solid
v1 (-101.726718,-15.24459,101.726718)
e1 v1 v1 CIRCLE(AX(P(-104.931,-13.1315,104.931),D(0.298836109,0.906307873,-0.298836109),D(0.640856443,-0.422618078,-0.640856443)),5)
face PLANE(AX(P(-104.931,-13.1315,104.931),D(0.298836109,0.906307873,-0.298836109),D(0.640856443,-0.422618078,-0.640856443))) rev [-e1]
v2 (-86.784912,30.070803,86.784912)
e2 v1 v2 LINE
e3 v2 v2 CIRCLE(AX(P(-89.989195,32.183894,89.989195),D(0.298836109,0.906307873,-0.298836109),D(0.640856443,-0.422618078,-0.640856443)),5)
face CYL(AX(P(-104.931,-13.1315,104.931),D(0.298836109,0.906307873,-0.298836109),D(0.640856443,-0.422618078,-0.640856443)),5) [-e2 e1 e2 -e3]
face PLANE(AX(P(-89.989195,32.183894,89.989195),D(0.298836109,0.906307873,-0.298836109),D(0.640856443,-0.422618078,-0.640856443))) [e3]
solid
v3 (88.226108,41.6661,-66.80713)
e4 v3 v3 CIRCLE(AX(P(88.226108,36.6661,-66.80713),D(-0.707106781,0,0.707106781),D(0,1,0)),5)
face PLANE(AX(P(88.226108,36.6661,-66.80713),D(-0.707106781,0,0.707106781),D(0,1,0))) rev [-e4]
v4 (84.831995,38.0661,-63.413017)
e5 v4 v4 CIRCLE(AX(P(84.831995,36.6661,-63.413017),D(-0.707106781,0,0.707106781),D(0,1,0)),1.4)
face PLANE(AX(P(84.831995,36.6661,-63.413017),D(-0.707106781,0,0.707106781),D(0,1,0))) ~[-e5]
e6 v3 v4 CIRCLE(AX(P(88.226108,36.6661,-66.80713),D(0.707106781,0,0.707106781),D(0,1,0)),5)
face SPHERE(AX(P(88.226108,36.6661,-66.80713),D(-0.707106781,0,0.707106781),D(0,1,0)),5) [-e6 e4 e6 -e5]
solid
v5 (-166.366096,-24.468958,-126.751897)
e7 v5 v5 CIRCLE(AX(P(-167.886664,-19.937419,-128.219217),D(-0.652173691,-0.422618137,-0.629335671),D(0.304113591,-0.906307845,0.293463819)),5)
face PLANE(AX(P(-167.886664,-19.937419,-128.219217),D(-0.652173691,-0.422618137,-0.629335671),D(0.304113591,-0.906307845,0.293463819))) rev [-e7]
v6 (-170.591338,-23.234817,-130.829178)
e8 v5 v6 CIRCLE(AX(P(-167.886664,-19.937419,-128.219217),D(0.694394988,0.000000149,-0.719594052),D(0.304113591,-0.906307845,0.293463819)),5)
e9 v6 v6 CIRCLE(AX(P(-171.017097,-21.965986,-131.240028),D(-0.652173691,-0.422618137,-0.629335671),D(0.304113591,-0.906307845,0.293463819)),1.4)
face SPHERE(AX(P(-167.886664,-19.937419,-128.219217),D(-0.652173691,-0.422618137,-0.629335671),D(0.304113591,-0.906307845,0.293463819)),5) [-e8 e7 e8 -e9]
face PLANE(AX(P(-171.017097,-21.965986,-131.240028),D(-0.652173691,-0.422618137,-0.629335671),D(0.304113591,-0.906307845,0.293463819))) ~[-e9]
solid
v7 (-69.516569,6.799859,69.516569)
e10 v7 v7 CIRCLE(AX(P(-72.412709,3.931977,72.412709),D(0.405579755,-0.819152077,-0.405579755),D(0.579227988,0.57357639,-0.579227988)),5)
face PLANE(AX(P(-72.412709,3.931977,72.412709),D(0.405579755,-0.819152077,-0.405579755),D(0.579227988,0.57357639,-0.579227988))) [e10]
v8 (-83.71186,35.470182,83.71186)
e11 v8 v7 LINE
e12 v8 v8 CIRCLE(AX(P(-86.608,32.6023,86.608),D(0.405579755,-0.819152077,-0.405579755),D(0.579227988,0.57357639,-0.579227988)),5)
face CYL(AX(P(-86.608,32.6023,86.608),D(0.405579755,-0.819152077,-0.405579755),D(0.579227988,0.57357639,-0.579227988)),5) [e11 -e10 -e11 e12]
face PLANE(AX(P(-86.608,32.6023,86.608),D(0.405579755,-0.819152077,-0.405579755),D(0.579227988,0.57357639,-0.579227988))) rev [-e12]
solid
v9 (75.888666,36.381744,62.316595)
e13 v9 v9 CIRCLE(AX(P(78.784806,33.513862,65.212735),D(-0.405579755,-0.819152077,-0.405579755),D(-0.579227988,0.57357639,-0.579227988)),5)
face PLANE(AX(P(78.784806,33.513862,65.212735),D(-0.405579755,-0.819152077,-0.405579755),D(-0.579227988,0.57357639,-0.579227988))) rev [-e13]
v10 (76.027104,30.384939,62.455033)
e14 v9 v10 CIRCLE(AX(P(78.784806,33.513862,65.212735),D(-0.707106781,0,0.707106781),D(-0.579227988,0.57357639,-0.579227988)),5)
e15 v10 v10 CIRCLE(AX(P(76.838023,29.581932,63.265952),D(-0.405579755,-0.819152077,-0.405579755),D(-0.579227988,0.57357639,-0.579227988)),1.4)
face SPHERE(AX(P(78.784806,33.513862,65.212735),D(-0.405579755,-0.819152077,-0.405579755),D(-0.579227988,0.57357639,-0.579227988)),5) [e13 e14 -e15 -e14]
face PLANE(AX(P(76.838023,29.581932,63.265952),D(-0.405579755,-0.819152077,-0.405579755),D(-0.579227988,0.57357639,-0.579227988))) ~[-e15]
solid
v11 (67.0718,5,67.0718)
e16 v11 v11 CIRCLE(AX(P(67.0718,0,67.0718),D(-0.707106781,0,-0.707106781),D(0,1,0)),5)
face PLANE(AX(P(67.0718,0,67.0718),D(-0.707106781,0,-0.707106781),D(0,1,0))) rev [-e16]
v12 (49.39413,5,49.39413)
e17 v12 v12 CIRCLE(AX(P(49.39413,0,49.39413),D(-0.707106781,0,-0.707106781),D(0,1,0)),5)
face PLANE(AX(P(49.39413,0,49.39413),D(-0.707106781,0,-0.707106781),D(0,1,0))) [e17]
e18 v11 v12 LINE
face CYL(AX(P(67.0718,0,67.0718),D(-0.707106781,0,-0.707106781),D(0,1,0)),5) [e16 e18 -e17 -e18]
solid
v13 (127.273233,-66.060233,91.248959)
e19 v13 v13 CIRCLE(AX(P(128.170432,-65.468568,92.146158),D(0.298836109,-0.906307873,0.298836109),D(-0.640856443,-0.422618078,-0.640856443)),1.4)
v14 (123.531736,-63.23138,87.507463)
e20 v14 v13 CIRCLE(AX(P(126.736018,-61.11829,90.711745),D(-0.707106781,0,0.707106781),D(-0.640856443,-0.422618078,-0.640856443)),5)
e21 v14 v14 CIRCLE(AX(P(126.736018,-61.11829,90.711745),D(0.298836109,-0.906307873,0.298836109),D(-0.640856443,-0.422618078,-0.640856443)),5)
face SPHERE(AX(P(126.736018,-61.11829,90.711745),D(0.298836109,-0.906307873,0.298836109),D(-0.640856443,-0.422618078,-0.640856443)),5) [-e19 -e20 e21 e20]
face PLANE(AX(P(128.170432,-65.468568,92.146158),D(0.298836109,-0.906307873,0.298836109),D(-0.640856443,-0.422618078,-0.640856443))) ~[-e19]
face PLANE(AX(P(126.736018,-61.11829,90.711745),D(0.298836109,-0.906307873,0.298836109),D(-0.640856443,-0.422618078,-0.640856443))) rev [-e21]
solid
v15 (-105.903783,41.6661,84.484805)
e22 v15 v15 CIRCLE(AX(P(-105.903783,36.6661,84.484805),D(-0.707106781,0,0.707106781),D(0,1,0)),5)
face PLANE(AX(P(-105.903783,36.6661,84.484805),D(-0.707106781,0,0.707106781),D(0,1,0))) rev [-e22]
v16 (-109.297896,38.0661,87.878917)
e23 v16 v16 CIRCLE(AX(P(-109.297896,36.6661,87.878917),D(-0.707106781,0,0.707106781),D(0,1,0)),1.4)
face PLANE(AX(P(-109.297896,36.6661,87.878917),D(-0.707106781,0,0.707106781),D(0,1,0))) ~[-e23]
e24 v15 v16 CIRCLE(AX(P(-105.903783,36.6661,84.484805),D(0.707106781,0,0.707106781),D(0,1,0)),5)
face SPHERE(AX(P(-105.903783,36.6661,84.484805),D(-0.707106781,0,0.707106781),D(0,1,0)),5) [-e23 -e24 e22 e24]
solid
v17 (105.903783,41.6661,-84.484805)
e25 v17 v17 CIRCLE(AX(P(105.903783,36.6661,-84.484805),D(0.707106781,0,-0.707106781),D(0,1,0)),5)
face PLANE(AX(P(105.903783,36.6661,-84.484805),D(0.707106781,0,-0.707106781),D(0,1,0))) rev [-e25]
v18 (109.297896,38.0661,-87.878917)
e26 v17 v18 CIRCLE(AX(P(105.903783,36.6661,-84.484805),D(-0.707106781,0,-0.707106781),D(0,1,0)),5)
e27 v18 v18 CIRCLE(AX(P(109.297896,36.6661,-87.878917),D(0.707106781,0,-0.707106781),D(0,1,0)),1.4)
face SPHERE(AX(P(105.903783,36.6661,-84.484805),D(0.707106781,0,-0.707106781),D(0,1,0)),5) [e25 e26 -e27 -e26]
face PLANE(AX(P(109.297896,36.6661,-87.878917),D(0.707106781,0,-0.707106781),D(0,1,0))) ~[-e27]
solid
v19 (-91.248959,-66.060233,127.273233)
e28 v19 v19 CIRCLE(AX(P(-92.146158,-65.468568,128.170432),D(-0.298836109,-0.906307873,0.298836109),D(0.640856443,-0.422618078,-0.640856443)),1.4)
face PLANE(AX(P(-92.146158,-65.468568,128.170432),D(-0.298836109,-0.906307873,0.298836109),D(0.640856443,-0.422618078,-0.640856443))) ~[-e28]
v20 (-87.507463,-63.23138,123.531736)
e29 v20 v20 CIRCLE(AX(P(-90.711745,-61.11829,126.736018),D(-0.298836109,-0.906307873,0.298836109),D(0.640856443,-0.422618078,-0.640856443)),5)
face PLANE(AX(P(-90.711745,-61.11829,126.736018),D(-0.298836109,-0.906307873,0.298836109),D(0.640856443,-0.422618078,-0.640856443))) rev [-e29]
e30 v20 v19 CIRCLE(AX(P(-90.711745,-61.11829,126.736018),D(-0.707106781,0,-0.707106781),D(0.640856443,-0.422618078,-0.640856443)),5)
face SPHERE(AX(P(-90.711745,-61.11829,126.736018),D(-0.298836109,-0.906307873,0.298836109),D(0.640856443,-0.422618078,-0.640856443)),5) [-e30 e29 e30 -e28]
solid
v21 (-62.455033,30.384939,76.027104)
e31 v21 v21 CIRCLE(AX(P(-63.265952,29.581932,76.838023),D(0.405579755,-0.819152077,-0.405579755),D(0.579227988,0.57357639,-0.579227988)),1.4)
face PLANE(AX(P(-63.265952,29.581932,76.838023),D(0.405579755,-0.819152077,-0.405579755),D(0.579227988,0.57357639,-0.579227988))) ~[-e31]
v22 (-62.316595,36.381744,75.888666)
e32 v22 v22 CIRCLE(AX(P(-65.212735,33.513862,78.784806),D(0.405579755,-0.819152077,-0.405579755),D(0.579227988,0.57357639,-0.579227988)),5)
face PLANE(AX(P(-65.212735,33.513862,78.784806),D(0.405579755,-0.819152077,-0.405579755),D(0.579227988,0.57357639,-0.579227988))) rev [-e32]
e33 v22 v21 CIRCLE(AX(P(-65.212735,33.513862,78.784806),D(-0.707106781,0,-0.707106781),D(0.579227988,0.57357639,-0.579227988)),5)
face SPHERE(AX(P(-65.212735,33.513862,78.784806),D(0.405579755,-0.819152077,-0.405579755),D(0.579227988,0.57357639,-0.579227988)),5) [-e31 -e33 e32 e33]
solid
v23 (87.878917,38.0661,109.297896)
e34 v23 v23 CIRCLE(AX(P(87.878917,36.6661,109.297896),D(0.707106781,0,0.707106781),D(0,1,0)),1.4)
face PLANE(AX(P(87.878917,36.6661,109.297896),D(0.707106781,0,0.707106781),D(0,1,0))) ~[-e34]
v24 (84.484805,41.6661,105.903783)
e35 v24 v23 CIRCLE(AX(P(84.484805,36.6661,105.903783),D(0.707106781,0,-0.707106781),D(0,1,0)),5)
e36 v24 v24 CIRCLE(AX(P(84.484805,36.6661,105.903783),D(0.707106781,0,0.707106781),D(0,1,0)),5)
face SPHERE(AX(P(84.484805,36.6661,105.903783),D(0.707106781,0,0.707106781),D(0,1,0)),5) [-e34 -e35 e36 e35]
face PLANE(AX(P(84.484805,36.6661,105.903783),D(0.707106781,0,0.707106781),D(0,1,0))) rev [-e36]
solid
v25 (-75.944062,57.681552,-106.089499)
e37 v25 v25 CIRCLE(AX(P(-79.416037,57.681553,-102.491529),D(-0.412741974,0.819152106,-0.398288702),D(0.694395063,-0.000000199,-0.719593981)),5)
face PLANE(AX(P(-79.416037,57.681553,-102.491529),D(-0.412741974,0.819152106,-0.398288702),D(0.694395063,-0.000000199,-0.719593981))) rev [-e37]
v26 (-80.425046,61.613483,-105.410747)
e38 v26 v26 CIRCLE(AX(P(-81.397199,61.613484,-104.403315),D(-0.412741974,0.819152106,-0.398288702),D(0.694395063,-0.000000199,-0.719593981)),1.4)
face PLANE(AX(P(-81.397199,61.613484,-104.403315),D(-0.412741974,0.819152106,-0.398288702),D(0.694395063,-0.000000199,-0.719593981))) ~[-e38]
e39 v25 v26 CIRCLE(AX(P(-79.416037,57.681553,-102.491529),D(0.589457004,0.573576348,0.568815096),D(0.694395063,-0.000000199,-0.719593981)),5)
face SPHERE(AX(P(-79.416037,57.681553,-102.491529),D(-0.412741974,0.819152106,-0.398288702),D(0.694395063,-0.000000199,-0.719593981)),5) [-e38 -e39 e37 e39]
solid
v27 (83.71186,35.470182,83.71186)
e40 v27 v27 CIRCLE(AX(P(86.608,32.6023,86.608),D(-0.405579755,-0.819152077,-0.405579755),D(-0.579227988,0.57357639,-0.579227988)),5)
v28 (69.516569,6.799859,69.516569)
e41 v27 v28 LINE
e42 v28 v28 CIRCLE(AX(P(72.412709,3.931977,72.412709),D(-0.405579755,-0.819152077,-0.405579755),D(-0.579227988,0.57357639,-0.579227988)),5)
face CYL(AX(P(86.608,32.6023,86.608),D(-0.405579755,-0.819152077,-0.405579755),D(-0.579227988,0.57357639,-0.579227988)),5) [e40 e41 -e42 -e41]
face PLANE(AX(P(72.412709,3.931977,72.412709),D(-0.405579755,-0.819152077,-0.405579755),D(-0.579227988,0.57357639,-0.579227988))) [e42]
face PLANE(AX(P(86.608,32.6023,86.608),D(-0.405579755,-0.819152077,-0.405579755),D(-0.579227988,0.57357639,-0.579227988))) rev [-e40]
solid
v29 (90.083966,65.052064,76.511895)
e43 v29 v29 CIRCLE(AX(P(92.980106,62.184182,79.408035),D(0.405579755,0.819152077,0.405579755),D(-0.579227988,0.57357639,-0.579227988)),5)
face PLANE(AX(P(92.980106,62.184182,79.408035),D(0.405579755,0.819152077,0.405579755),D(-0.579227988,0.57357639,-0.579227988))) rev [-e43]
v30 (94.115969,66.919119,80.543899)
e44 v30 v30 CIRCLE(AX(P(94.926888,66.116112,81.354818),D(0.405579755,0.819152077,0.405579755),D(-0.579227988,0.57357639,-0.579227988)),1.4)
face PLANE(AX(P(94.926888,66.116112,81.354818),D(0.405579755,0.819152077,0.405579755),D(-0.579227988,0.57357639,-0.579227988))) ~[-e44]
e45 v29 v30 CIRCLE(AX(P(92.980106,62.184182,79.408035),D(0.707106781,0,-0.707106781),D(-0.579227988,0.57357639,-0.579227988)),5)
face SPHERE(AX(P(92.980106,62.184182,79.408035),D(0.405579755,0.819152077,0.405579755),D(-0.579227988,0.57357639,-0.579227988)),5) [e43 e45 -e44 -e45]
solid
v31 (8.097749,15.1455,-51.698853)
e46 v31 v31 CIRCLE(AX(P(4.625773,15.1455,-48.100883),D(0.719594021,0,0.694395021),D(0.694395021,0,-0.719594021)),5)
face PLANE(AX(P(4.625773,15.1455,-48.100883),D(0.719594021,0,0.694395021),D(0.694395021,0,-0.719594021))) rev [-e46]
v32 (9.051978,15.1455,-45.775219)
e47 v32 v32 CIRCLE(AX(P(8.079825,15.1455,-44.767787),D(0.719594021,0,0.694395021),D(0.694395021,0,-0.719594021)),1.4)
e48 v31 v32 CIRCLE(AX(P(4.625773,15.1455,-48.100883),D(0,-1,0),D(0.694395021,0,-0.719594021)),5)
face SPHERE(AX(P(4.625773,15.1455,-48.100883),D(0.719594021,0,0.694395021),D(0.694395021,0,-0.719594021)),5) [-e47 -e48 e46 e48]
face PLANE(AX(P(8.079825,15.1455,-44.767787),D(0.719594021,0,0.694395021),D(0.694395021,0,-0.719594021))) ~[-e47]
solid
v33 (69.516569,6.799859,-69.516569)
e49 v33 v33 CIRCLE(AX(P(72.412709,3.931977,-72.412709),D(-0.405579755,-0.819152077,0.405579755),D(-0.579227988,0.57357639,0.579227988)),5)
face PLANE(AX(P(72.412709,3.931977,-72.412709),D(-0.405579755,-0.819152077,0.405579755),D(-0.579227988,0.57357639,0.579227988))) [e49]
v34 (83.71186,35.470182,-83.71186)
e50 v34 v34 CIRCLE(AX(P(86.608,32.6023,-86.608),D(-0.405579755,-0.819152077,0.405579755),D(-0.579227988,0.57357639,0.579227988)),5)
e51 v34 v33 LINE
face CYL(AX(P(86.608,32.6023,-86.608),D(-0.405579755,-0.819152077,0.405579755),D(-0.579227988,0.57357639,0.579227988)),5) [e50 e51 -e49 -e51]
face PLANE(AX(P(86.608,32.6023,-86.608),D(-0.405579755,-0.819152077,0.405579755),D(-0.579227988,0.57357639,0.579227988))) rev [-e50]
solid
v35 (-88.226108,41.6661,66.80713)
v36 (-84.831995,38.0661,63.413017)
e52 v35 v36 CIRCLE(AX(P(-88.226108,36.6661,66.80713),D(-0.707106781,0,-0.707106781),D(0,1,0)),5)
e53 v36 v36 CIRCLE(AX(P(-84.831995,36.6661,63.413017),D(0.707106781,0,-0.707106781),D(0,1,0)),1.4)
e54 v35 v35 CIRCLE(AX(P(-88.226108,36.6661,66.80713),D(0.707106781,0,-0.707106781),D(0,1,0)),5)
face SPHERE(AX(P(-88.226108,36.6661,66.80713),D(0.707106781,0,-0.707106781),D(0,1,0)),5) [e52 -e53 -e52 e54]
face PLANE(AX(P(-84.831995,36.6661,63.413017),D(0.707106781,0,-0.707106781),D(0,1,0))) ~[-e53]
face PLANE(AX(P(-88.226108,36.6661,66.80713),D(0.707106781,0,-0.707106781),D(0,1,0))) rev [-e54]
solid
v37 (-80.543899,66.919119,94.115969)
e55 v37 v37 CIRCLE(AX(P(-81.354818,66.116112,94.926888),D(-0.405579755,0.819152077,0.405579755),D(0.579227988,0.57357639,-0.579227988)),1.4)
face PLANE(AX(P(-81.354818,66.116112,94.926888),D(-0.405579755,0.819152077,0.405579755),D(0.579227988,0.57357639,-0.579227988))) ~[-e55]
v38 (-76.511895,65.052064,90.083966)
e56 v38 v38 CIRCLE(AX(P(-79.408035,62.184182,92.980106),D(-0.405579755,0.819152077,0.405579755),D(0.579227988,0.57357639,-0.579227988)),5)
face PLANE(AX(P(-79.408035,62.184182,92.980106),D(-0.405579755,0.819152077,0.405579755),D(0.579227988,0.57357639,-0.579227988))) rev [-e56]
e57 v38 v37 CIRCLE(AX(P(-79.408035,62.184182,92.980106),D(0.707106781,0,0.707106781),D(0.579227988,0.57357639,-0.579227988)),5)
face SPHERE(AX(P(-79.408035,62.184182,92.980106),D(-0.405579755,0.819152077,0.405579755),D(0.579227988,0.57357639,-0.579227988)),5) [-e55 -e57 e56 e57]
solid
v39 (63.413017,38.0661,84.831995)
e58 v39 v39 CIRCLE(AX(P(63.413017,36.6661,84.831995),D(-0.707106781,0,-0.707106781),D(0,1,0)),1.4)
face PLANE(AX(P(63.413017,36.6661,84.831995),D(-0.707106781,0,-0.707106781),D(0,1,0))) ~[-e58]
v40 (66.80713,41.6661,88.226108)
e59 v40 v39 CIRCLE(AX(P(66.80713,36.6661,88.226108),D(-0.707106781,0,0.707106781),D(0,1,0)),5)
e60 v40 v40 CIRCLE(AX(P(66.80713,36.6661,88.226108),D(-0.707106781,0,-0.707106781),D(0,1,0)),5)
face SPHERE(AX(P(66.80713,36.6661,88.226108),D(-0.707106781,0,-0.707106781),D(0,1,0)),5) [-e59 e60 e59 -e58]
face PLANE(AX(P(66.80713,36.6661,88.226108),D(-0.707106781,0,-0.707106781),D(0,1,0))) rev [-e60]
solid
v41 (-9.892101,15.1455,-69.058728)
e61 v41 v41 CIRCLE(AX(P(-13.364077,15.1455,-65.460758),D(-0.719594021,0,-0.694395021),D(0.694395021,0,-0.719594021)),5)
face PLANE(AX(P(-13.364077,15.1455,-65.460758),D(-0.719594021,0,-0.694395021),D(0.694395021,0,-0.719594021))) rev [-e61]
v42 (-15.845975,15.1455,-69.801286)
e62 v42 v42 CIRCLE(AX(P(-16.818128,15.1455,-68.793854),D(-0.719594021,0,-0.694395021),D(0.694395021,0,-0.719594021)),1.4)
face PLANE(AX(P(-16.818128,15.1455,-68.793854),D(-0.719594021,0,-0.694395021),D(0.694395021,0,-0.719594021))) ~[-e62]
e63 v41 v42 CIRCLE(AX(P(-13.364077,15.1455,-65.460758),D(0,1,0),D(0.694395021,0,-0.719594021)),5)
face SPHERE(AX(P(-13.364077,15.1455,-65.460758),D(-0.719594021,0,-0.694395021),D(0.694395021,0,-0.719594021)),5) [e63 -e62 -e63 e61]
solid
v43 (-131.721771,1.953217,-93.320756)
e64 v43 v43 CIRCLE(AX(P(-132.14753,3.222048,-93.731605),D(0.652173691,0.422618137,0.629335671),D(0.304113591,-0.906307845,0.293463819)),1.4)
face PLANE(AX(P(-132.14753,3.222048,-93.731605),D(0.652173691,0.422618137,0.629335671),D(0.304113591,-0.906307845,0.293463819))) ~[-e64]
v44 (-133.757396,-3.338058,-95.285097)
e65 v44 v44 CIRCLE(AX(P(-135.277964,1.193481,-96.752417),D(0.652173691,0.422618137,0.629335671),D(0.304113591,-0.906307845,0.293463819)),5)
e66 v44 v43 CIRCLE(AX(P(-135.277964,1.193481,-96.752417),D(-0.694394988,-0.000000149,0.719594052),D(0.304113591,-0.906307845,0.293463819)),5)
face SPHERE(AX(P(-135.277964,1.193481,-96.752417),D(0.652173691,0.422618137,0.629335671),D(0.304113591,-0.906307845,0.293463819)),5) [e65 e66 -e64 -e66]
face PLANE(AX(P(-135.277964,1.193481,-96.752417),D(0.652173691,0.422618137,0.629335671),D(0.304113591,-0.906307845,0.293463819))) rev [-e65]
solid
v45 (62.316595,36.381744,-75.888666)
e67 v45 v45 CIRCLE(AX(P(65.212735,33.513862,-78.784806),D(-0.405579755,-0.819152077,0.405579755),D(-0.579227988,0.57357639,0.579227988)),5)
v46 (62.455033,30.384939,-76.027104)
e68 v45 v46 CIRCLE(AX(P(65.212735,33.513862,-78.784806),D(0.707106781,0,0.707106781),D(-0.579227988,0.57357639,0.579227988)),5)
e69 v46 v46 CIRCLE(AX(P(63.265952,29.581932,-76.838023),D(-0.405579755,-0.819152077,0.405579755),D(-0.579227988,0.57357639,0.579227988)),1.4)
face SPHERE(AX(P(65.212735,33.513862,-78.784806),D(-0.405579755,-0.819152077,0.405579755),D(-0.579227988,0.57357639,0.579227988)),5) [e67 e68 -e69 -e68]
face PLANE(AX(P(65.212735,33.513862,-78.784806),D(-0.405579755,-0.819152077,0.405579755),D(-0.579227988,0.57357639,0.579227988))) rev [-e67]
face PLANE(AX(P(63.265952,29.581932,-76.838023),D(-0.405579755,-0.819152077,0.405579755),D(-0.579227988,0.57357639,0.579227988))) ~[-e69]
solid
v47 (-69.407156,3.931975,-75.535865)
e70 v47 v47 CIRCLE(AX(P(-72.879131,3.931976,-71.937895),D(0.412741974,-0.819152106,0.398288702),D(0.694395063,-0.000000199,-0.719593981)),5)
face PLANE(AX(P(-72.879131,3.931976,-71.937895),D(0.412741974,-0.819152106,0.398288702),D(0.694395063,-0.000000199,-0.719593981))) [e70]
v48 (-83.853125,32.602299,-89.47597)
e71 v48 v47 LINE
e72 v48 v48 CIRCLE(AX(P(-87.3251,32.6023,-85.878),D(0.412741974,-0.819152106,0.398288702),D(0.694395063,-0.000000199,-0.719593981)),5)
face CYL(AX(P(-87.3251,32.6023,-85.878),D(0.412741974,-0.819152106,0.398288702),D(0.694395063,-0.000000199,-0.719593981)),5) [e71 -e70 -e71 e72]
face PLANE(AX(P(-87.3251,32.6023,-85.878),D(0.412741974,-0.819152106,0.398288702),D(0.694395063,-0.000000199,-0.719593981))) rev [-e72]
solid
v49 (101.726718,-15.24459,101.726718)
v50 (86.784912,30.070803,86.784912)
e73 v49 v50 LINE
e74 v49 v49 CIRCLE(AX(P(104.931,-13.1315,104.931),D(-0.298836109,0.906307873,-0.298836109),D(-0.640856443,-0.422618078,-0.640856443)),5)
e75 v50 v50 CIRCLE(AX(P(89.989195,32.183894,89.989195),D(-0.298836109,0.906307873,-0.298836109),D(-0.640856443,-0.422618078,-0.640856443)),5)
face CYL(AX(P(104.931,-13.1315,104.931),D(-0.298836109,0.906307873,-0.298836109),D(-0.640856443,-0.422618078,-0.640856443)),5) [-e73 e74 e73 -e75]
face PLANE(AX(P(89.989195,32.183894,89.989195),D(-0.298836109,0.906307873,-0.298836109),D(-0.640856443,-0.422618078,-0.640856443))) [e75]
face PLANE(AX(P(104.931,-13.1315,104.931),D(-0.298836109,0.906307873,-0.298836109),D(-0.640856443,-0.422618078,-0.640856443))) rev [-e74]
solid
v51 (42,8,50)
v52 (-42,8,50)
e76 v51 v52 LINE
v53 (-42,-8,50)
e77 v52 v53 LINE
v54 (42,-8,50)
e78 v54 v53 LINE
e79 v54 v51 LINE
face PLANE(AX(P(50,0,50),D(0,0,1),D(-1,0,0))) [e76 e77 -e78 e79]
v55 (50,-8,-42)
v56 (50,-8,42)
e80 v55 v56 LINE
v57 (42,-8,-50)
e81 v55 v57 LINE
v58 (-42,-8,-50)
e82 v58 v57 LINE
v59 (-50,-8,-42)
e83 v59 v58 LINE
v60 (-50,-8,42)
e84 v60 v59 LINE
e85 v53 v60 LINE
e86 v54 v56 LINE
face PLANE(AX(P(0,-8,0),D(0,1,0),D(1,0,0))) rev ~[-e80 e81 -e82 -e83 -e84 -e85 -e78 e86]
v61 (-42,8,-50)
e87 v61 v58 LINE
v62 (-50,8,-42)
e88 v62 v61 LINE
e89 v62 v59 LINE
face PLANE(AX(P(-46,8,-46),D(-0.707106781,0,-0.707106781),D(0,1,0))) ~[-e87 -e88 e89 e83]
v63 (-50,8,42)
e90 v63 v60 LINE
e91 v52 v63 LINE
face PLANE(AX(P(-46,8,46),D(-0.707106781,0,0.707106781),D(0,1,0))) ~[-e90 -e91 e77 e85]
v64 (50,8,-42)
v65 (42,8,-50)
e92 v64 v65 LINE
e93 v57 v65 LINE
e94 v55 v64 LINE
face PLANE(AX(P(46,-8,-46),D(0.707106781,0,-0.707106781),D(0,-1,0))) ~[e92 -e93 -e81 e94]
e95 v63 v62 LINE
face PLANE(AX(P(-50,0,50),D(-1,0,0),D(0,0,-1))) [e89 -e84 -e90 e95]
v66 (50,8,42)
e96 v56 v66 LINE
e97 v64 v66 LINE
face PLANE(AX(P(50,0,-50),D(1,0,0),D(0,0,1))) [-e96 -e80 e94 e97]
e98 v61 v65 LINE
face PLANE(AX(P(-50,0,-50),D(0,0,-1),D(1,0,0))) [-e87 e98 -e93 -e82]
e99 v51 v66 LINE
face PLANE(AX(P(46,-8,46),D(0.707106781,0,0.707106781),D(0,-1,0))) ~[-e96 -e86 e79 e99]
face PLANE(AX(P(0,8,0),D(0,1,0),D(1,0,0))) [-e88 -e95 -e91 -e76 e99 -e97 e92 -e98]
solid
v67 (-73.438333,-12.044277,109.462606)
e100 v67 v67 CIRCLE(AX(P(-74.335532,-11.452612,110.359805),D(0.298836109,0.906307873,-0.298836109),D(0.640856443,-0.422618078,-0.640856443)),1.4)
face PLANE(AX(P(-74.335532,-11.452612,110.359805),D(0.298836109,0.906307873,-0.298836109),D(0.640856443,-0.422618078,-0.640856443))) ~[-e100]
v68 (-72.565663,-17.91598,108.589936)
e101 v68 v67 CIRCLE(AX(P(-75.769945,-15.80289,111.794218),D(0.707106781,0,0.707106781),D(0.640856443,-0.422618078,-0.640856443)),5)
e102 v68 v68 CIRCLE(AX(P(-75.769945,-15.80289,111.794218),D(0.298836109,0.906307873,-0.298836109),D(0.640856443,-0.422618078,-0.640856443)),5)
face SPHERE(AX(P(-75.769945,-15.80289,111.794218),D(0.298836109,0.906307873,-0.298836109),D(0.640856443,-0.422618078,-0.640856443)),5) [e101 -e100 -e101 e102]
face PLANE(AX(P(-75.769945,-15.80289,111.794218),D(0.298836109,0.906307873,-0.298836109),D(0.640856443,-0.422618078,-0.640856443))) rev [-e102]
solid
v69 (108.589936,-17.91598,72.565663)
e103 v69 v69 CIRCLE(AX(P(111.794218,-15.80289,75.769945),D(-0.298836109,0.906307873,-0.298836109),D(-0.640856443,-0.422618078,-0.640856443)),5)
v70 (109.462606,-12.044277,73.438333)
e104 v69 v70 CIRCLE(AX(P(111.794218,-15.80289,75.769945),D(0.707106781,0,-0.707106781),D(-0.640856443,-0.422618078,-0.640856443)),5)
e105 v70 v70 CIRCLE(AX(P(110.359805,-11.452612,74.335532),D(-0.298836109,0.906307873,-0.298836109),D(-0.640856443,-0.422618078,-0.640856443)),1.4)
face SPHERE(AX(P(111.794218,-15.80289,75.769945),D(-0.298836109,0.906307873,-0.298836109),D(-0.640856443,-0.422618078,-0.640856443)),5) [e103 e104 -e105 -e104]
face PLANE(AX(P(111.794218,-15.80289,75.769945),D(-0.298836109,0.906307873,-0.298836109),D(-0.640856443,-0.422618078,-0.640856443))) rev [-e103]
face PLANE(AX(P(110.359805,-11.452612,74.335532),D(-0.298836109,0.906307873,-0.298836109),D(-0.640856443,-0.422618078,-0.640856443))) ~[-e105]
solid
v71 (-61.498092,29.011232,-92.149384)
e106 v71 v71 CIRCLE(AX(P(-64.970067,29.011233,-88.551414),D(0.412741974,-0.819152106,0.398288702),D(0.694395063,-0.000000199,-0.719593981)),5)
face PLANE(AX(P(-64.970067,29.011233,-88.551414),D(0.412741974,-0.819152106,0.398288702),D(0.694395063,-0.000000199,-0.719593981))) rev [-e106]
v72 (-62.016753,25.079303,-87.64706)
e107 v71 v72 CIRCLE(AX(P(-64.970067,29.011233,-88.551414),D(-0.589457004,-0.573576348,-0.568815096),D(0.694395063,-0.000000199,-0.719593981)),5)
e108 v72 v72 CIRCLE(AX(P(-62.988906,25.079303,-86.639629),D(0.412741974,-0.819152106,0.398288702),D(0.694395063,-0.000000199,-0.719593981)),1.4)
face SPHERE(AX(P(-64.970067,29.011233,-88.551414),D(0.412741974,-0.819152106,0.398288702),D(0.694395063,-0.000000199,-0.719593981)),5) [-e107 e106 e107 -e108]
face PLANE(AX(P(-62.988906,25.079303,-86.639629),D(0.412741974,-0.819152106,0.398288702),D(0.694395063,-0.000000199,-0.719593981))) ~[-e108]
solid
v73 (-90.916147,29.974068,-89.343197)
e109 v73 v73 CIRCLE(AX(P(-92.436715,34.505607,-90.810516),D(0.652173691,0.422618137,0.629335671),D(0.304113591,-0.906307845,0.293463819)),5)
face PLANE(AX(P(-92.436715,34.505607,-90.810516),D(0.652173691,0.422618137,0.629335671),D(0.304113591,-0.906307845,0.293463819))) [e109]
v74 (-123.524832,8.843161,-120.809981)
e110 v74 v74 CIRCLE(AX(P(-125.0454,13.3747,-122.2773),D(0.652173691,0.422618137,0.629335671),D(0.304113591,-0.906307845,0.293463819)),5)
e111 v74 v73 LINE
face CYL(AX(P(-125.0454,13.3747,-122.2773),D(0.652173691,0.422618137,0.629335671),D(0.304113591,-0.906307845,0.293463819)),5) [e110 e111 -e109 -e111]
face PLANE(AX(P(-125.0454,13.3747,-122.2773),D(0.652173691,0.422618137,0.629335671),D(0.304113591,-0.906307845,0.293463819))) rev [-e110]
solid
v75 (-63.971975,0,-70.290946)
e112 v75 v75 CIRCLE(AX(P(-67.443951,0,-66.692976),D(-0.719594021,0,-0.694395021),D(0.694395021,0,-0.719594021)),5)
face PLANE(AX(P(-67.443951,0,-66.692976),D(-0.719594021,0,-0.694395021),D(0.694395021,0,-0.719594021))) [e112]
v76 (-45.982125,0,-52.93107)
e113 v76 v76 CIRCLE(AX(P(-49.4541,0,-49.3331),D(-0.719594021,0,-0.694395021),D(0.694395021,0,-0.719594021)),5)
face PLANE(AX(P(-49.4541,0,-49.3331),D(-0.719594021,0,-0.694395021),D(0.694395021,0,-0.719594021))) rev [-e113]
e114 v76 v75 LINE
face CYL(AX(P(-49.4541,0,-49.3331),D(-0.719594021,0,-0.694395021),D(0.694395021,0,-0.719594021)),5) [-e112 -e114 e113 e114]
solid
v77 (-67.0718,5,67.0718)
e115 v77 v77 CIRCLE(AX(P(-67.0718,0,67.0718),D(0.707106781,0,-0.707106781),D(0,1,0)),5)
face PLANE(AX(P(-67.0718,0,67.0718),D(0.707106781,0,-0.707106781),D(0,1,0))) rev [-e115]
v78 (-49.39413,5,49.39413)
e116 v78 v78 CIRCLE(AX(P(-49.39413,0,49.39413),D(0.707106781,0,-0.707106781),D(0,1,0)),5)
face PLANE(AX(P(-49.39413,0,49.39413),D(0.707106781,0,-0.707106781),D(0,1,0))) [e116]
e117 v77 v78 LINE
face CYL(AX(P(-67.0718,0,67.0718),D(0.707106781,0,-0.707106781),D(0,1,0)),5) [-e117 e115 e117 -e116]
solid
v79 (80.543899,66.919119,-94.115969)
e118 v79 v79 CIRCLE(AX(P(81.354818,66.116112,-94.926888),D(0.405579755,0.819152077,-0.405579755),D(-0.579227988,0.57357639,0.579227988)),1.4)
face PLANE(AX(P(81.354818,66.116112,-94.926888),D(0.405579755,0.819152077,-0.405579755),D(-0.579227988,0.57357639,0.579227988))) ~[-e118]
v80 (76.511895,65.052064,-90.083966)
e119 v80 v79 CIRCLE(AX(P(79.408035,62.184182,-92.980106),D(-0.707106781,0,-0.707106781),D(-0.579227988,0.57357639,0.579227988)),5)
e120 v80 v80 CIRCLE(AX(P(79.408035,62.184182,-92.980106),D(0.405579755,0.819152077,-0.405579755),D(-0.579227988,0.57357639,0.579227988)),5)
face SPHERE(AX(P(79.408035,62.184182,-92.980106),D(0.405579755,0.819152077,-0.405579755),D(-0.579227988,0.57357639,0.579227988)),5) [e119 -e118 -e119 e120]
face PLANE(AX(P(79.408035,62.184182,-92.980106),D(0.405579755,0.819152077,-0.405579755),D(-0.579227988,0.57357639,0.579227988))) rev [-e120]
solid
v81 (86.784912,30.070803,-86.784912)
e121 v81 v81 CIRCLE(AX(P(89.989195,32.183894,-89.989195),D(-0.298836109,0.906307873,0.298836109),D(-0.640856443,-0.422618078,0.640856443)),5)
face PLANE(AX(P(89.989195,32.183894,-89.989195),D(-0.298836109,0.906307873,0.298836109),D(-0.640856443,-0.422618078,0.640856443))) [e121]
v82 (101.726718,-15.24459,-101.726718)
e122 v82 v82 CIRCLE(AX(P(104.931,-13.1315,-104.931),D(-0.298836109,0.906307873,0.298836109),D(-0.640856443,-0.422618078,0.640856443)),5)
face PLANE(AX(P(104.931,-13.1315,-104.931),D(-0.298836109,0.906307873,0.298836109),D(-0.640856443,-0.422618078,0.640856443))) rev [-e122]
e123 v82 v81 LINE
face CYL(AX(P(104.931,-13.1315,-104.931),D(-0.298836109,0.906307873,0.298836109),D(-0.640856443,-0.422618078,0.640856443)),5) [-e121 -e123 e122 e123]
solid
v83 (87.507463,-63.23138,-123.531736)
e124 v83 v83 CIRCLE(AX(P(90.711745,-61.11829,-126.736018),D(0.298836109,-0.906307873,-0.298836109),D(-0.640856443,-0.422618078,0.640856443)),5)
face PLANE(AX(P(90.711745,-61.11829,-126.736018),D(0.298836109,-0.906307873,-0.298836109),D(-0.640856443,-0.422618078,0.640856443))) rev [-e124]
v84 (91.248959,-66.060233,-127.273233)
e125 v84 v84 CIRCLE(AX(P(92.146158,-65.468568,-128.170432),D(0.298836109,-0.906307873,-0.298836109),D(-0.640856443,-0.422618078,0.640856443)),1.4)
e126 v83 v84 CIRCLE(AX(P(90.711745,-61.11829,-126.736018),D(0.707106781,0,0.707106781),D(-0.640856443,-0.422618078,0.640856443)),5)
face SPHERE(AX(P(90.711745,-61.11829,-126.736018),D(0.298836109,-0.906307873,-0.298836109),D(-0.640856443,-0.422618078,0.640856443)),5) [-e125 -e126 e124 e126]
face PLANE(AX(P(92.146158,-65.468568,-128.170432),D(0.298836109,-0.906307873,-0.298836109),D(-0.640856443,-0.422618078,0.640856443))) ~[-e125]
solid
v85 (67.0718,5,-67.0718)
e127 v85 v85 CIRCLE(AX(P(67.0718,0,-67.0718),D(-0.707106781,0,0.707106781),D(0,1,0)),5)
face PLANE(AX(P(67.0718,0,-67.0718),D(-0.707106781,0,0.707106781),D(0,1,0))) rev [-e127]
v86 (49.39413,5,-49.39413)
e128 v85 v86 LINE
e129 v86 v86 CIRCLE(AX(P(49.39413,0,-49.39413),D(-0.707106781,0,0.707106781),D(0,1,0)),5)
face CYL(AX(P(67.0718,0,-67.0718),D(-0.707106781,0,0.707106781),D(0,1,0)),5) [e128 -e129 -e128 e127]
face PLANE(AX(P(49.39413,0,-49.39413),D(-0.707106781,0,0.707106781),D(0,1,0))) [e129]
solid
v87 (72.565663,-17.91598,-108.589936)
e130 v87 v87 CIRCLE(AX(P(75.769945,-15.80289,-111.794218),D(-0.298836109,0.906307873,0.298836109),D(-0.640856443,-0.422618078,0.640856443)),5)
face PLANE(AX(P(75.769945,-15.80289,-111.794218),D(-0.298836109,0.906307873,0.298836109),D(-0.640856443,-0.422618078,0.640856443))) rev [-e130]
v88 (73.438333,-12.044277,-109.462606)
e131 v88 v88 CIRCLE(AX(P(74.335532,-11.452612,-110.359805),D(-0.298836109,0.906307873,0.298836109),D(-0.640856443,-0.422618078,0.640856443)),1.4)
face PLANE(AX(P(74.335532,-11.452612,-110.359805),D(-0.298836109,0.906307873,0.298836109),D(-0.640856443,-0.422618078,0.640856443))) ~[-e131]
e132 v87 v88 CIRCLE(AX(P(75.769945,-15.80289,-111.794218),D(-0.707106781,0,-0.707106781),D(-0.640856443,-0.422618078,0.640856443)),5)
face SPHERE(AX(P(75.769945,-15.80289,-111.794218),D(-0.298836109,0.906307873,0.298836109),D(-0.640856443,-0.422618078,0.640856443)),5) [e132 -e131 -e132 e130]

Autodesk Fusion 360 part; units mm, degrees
cylinder "CylinderPrimitive1" add diameter 10 height 25 placed x (1, 0, 0) y (0, 0, -1) z (0, 1, 0) at (0, 0, 0) makes body 1 in component "leg_1_Part_1"
sketch "Sketch3" plane through (0, 0, 0) normal (0, 0, 1) x (1, 0, 0)
  line L0 (0, 0) -> (0, 4.8)
  line L1 (0, 0) -> (5, 0)
  line L2 (0, 4.8) -> (1.4, 4.8)
  arc A0 (5, 0) -> (1.4, 4.8) centre (0, 0) ccw
  dimension "d11" = 10
  dimension "d12" = 4.8
  dimension "d13" = 5
revolve "Revolve1" add sketch "Sketch3" angle 360 about axis through (0, 0, 0) along (0, 1, 0) separate body makes body 2 in component "leg_1_Part_1_bottom"
revolve "Revolve1'" add sketch "Sketch3" angle 360 about axis through (0, 0, 0) along (0, 1, 0) separate body makes body 3 in component "leg_1_Part_1_top"
cylinder "CylinderPrimitive1'" add diameter 10 height 35 placed x (1, 0, 0) y (0, 0, -1) z (0, 1, 0) at (0, 0, 0) separate body makes body 4 in component "leg_1_Part_2"
revolve "Revolve1''" add sketch "Sketch3" angle 360 about axis through (0, 1.75, 0) along (0, 1, 0) separate body makes body 5 in component "leg_1_Part_2_bottom"
revolve "Revolve1'''" add sketch "Sketch3" angle 360 about axis through (0, 1.75, 0) along (0, 1, 0) separate body makes body 6 in component "leg_1_Part_2_top"
revolve "Revolve1''''" add sketch "Sketch3" angle 360 about axis through (0, 0, 0) along (0, 1, 0) separate body makes body 7 in component "leg_1_part_3_bottom"
cylinder "CylinderPrimitive1''" add diameter 10 height 50 placed x (1, 0, 0) y (0, 0, -1) z (0, 1, 0) at (0, 0, 0) separate body makes body 8
copy_body "Body->Comp1" bodies 8 removing the originals makes body 9 in component "leg_1_part_3"
revolve "Revolve1'''''" add sketch "Sketch3" angle 360 about axis through (0, 1.75, 0) along (0, 1, 0) separate body makes body 10 in component "leg_1_part_3_top"
ref_plane "WorkPlane1" through (0, 0, 0) normal (0, 1, 0) x (0, 0, 1)
sketch "Sketch7" plane through (0, 0, 0) normal (0, 1, 0) x (1, 0, 0)
  line L0 (50, -50) -> (-50, -50)
  line L1 (-50, -50) -> (-50, 50)
  line L2 (-50, 50) -> (50, 50)
  line L3 (50, 50) -> (50, -50)
  line L4 (50, -50) -> (-50, 50) construction
  line L5 (-50, -50) -> (50, 50) construction
  dimension "d185" = 100
  dimension "d186" = 100
extrude "Extrude1" add sketch "Sketch7" along normal mid plane 16 separate body makes body 11
chamfer "Chamfer1" distance 8 angle 45 1 edges at (50, 0, 50) on bodies 11
chamfer "Chamfer2" distance 8 angle 45 1 edges at (50, 0, -50) on bodies 11
chamfer "Chamfer3" distance 8 angle 45 1 edges at (-50, 0, 50) on bodies 11
chamfer "Chamfer4" distance 8 angle 45 1 edges at (-50, 0, -50) on bodies 11
copy_body "Body->Comp2" bodies 11 removing the originals makes body 12 in component "Body"
component "leg_1_Part_1" placed x (0.694395, 0, -0.719594) y (-0.719594, 0, -0.694395) z (0, 1, 0) at (-49.4541, 0, -49.3331)
component "leg_1_Part_2" placed x (0.694395, 0, -0.719594) y (0.412742, -0.819152, 0.398289) z (-0.589457, -0.573576, -0.568815) at (-87.3251, 32.6023, -85.878)
component "leg_1_part_3" placed x (0.304114, -0.906308, 0.293464) y (0.652174, 0.422618, 0.629336) z (-0.694395, 0, 0.719594) at (-125.0454, 13.3747, -122.2773)
component "Body" placed x (1, 0, 0) y (0, 1, 0) z (0, 0, 1) at (0, 0, 0)
component "leg_1_Part_1" placed x (0, 1, 0) y (0.707107, 0, -0.707107) z (-0.707107, 0, -0.707107) at (-67.0718, 0, 67.0718)
component "leg_1_Part_1" placed x (0, 1, 0) y (-0.707107, 0, -0.707107) z (-0.707107, 0, 0.707107) at (67.0718, 0, 67.0718)
component "leg_1_Part_1" placed x (0, 1, 0) y (-0.707107, 0, 0.707107) z (0.707107, 0, 0.707107) at (67.0718, 0, -67.0718)
component "leg_1_Part_2" placed x (0.579228, 0.573576, -0.579228) y (0.40558, -0.819152, -0.40558) z (-0.707107, 0, -0.707107) at (-86.608, 32.6023, 86.608)
component "leg_1_Part_2" placed x (-0.579228, 0.573576, -0.579228) y (-0.40558, -0.819152, -0.40558) z (-0.707107, 0, 0.707107) at (86.608, 32.6023, 86.608)
component "leg_1_Part_2" placed x (-0.579228, 0.573576, 0.579228) y (-0.40558, -0.819152, 0.40558) z (0.707107, 0, 0.707107) at (86.608, 32.6023, -86.608)
component "leg_1_part_3" placed x (-0.640856, -0.422618, -0.640856) y (-0.298836, 0.906308, -0.298836) z (0.707107, 0, -0.707107) at (104.931, -13.1315, 104.931)
component "leg_1_part_3" placed x (-0.640856, -0.422618, 0.640856) y (-0.298836, 0.906308, 0.298836) z (-0.707107, 0, -0.707107) at (104.931, -13.1315, -104.931)
component "leg_1_part_3" placed x (0.640856, -0.422618, -0.640856) y (0.298836, 0.906308, -0.298836) z (0.707107, 0, 0.707107) at (-104.931, -13.1315, 104.931)
component "leg_1_Part_1_bottom" placed x (1, 0, 0) y (0, -1, 0) z (0, 0, -1) at (36.6661, -39.7712, 15.1455) in component "leg_1_Part_1"
component "leg_1_Part_1_top" placed x (1, 0, 0) y (0, 1, 0) z (0, 0, 1) at (36.6661, -14.7712, 15.1455) in component "leg_1_Part_1"
component "leg_1_Part_2_bottom" placed x (1, 0, 0) y (0, -1, 0) z (0, 0, -1) at (17.447, -23.8963, -9.5969) in component "leg_1_Part_2"
component "leg_1_Part_2_top" placed x (1, 0, 0) y (0, 1, 0) z (0, 0, 1) at (17.447, 11.1037, -9.5969) in component "leg_1_Part_2"
component "leg_1_part_3_top" placed x (1, 0, 0) y (0, 1, 0) z (0, 0, 1) at (15.4187, 4.2423, 25.473) in component "leg_1_part_3"
component "leg_1_part_3_bottom" placed x (1, 0, 0) y (0, -1, 0) z (0, 0, -1) at (15.4187, -45.7577, 25.473) in component "leg_1_part_3"
